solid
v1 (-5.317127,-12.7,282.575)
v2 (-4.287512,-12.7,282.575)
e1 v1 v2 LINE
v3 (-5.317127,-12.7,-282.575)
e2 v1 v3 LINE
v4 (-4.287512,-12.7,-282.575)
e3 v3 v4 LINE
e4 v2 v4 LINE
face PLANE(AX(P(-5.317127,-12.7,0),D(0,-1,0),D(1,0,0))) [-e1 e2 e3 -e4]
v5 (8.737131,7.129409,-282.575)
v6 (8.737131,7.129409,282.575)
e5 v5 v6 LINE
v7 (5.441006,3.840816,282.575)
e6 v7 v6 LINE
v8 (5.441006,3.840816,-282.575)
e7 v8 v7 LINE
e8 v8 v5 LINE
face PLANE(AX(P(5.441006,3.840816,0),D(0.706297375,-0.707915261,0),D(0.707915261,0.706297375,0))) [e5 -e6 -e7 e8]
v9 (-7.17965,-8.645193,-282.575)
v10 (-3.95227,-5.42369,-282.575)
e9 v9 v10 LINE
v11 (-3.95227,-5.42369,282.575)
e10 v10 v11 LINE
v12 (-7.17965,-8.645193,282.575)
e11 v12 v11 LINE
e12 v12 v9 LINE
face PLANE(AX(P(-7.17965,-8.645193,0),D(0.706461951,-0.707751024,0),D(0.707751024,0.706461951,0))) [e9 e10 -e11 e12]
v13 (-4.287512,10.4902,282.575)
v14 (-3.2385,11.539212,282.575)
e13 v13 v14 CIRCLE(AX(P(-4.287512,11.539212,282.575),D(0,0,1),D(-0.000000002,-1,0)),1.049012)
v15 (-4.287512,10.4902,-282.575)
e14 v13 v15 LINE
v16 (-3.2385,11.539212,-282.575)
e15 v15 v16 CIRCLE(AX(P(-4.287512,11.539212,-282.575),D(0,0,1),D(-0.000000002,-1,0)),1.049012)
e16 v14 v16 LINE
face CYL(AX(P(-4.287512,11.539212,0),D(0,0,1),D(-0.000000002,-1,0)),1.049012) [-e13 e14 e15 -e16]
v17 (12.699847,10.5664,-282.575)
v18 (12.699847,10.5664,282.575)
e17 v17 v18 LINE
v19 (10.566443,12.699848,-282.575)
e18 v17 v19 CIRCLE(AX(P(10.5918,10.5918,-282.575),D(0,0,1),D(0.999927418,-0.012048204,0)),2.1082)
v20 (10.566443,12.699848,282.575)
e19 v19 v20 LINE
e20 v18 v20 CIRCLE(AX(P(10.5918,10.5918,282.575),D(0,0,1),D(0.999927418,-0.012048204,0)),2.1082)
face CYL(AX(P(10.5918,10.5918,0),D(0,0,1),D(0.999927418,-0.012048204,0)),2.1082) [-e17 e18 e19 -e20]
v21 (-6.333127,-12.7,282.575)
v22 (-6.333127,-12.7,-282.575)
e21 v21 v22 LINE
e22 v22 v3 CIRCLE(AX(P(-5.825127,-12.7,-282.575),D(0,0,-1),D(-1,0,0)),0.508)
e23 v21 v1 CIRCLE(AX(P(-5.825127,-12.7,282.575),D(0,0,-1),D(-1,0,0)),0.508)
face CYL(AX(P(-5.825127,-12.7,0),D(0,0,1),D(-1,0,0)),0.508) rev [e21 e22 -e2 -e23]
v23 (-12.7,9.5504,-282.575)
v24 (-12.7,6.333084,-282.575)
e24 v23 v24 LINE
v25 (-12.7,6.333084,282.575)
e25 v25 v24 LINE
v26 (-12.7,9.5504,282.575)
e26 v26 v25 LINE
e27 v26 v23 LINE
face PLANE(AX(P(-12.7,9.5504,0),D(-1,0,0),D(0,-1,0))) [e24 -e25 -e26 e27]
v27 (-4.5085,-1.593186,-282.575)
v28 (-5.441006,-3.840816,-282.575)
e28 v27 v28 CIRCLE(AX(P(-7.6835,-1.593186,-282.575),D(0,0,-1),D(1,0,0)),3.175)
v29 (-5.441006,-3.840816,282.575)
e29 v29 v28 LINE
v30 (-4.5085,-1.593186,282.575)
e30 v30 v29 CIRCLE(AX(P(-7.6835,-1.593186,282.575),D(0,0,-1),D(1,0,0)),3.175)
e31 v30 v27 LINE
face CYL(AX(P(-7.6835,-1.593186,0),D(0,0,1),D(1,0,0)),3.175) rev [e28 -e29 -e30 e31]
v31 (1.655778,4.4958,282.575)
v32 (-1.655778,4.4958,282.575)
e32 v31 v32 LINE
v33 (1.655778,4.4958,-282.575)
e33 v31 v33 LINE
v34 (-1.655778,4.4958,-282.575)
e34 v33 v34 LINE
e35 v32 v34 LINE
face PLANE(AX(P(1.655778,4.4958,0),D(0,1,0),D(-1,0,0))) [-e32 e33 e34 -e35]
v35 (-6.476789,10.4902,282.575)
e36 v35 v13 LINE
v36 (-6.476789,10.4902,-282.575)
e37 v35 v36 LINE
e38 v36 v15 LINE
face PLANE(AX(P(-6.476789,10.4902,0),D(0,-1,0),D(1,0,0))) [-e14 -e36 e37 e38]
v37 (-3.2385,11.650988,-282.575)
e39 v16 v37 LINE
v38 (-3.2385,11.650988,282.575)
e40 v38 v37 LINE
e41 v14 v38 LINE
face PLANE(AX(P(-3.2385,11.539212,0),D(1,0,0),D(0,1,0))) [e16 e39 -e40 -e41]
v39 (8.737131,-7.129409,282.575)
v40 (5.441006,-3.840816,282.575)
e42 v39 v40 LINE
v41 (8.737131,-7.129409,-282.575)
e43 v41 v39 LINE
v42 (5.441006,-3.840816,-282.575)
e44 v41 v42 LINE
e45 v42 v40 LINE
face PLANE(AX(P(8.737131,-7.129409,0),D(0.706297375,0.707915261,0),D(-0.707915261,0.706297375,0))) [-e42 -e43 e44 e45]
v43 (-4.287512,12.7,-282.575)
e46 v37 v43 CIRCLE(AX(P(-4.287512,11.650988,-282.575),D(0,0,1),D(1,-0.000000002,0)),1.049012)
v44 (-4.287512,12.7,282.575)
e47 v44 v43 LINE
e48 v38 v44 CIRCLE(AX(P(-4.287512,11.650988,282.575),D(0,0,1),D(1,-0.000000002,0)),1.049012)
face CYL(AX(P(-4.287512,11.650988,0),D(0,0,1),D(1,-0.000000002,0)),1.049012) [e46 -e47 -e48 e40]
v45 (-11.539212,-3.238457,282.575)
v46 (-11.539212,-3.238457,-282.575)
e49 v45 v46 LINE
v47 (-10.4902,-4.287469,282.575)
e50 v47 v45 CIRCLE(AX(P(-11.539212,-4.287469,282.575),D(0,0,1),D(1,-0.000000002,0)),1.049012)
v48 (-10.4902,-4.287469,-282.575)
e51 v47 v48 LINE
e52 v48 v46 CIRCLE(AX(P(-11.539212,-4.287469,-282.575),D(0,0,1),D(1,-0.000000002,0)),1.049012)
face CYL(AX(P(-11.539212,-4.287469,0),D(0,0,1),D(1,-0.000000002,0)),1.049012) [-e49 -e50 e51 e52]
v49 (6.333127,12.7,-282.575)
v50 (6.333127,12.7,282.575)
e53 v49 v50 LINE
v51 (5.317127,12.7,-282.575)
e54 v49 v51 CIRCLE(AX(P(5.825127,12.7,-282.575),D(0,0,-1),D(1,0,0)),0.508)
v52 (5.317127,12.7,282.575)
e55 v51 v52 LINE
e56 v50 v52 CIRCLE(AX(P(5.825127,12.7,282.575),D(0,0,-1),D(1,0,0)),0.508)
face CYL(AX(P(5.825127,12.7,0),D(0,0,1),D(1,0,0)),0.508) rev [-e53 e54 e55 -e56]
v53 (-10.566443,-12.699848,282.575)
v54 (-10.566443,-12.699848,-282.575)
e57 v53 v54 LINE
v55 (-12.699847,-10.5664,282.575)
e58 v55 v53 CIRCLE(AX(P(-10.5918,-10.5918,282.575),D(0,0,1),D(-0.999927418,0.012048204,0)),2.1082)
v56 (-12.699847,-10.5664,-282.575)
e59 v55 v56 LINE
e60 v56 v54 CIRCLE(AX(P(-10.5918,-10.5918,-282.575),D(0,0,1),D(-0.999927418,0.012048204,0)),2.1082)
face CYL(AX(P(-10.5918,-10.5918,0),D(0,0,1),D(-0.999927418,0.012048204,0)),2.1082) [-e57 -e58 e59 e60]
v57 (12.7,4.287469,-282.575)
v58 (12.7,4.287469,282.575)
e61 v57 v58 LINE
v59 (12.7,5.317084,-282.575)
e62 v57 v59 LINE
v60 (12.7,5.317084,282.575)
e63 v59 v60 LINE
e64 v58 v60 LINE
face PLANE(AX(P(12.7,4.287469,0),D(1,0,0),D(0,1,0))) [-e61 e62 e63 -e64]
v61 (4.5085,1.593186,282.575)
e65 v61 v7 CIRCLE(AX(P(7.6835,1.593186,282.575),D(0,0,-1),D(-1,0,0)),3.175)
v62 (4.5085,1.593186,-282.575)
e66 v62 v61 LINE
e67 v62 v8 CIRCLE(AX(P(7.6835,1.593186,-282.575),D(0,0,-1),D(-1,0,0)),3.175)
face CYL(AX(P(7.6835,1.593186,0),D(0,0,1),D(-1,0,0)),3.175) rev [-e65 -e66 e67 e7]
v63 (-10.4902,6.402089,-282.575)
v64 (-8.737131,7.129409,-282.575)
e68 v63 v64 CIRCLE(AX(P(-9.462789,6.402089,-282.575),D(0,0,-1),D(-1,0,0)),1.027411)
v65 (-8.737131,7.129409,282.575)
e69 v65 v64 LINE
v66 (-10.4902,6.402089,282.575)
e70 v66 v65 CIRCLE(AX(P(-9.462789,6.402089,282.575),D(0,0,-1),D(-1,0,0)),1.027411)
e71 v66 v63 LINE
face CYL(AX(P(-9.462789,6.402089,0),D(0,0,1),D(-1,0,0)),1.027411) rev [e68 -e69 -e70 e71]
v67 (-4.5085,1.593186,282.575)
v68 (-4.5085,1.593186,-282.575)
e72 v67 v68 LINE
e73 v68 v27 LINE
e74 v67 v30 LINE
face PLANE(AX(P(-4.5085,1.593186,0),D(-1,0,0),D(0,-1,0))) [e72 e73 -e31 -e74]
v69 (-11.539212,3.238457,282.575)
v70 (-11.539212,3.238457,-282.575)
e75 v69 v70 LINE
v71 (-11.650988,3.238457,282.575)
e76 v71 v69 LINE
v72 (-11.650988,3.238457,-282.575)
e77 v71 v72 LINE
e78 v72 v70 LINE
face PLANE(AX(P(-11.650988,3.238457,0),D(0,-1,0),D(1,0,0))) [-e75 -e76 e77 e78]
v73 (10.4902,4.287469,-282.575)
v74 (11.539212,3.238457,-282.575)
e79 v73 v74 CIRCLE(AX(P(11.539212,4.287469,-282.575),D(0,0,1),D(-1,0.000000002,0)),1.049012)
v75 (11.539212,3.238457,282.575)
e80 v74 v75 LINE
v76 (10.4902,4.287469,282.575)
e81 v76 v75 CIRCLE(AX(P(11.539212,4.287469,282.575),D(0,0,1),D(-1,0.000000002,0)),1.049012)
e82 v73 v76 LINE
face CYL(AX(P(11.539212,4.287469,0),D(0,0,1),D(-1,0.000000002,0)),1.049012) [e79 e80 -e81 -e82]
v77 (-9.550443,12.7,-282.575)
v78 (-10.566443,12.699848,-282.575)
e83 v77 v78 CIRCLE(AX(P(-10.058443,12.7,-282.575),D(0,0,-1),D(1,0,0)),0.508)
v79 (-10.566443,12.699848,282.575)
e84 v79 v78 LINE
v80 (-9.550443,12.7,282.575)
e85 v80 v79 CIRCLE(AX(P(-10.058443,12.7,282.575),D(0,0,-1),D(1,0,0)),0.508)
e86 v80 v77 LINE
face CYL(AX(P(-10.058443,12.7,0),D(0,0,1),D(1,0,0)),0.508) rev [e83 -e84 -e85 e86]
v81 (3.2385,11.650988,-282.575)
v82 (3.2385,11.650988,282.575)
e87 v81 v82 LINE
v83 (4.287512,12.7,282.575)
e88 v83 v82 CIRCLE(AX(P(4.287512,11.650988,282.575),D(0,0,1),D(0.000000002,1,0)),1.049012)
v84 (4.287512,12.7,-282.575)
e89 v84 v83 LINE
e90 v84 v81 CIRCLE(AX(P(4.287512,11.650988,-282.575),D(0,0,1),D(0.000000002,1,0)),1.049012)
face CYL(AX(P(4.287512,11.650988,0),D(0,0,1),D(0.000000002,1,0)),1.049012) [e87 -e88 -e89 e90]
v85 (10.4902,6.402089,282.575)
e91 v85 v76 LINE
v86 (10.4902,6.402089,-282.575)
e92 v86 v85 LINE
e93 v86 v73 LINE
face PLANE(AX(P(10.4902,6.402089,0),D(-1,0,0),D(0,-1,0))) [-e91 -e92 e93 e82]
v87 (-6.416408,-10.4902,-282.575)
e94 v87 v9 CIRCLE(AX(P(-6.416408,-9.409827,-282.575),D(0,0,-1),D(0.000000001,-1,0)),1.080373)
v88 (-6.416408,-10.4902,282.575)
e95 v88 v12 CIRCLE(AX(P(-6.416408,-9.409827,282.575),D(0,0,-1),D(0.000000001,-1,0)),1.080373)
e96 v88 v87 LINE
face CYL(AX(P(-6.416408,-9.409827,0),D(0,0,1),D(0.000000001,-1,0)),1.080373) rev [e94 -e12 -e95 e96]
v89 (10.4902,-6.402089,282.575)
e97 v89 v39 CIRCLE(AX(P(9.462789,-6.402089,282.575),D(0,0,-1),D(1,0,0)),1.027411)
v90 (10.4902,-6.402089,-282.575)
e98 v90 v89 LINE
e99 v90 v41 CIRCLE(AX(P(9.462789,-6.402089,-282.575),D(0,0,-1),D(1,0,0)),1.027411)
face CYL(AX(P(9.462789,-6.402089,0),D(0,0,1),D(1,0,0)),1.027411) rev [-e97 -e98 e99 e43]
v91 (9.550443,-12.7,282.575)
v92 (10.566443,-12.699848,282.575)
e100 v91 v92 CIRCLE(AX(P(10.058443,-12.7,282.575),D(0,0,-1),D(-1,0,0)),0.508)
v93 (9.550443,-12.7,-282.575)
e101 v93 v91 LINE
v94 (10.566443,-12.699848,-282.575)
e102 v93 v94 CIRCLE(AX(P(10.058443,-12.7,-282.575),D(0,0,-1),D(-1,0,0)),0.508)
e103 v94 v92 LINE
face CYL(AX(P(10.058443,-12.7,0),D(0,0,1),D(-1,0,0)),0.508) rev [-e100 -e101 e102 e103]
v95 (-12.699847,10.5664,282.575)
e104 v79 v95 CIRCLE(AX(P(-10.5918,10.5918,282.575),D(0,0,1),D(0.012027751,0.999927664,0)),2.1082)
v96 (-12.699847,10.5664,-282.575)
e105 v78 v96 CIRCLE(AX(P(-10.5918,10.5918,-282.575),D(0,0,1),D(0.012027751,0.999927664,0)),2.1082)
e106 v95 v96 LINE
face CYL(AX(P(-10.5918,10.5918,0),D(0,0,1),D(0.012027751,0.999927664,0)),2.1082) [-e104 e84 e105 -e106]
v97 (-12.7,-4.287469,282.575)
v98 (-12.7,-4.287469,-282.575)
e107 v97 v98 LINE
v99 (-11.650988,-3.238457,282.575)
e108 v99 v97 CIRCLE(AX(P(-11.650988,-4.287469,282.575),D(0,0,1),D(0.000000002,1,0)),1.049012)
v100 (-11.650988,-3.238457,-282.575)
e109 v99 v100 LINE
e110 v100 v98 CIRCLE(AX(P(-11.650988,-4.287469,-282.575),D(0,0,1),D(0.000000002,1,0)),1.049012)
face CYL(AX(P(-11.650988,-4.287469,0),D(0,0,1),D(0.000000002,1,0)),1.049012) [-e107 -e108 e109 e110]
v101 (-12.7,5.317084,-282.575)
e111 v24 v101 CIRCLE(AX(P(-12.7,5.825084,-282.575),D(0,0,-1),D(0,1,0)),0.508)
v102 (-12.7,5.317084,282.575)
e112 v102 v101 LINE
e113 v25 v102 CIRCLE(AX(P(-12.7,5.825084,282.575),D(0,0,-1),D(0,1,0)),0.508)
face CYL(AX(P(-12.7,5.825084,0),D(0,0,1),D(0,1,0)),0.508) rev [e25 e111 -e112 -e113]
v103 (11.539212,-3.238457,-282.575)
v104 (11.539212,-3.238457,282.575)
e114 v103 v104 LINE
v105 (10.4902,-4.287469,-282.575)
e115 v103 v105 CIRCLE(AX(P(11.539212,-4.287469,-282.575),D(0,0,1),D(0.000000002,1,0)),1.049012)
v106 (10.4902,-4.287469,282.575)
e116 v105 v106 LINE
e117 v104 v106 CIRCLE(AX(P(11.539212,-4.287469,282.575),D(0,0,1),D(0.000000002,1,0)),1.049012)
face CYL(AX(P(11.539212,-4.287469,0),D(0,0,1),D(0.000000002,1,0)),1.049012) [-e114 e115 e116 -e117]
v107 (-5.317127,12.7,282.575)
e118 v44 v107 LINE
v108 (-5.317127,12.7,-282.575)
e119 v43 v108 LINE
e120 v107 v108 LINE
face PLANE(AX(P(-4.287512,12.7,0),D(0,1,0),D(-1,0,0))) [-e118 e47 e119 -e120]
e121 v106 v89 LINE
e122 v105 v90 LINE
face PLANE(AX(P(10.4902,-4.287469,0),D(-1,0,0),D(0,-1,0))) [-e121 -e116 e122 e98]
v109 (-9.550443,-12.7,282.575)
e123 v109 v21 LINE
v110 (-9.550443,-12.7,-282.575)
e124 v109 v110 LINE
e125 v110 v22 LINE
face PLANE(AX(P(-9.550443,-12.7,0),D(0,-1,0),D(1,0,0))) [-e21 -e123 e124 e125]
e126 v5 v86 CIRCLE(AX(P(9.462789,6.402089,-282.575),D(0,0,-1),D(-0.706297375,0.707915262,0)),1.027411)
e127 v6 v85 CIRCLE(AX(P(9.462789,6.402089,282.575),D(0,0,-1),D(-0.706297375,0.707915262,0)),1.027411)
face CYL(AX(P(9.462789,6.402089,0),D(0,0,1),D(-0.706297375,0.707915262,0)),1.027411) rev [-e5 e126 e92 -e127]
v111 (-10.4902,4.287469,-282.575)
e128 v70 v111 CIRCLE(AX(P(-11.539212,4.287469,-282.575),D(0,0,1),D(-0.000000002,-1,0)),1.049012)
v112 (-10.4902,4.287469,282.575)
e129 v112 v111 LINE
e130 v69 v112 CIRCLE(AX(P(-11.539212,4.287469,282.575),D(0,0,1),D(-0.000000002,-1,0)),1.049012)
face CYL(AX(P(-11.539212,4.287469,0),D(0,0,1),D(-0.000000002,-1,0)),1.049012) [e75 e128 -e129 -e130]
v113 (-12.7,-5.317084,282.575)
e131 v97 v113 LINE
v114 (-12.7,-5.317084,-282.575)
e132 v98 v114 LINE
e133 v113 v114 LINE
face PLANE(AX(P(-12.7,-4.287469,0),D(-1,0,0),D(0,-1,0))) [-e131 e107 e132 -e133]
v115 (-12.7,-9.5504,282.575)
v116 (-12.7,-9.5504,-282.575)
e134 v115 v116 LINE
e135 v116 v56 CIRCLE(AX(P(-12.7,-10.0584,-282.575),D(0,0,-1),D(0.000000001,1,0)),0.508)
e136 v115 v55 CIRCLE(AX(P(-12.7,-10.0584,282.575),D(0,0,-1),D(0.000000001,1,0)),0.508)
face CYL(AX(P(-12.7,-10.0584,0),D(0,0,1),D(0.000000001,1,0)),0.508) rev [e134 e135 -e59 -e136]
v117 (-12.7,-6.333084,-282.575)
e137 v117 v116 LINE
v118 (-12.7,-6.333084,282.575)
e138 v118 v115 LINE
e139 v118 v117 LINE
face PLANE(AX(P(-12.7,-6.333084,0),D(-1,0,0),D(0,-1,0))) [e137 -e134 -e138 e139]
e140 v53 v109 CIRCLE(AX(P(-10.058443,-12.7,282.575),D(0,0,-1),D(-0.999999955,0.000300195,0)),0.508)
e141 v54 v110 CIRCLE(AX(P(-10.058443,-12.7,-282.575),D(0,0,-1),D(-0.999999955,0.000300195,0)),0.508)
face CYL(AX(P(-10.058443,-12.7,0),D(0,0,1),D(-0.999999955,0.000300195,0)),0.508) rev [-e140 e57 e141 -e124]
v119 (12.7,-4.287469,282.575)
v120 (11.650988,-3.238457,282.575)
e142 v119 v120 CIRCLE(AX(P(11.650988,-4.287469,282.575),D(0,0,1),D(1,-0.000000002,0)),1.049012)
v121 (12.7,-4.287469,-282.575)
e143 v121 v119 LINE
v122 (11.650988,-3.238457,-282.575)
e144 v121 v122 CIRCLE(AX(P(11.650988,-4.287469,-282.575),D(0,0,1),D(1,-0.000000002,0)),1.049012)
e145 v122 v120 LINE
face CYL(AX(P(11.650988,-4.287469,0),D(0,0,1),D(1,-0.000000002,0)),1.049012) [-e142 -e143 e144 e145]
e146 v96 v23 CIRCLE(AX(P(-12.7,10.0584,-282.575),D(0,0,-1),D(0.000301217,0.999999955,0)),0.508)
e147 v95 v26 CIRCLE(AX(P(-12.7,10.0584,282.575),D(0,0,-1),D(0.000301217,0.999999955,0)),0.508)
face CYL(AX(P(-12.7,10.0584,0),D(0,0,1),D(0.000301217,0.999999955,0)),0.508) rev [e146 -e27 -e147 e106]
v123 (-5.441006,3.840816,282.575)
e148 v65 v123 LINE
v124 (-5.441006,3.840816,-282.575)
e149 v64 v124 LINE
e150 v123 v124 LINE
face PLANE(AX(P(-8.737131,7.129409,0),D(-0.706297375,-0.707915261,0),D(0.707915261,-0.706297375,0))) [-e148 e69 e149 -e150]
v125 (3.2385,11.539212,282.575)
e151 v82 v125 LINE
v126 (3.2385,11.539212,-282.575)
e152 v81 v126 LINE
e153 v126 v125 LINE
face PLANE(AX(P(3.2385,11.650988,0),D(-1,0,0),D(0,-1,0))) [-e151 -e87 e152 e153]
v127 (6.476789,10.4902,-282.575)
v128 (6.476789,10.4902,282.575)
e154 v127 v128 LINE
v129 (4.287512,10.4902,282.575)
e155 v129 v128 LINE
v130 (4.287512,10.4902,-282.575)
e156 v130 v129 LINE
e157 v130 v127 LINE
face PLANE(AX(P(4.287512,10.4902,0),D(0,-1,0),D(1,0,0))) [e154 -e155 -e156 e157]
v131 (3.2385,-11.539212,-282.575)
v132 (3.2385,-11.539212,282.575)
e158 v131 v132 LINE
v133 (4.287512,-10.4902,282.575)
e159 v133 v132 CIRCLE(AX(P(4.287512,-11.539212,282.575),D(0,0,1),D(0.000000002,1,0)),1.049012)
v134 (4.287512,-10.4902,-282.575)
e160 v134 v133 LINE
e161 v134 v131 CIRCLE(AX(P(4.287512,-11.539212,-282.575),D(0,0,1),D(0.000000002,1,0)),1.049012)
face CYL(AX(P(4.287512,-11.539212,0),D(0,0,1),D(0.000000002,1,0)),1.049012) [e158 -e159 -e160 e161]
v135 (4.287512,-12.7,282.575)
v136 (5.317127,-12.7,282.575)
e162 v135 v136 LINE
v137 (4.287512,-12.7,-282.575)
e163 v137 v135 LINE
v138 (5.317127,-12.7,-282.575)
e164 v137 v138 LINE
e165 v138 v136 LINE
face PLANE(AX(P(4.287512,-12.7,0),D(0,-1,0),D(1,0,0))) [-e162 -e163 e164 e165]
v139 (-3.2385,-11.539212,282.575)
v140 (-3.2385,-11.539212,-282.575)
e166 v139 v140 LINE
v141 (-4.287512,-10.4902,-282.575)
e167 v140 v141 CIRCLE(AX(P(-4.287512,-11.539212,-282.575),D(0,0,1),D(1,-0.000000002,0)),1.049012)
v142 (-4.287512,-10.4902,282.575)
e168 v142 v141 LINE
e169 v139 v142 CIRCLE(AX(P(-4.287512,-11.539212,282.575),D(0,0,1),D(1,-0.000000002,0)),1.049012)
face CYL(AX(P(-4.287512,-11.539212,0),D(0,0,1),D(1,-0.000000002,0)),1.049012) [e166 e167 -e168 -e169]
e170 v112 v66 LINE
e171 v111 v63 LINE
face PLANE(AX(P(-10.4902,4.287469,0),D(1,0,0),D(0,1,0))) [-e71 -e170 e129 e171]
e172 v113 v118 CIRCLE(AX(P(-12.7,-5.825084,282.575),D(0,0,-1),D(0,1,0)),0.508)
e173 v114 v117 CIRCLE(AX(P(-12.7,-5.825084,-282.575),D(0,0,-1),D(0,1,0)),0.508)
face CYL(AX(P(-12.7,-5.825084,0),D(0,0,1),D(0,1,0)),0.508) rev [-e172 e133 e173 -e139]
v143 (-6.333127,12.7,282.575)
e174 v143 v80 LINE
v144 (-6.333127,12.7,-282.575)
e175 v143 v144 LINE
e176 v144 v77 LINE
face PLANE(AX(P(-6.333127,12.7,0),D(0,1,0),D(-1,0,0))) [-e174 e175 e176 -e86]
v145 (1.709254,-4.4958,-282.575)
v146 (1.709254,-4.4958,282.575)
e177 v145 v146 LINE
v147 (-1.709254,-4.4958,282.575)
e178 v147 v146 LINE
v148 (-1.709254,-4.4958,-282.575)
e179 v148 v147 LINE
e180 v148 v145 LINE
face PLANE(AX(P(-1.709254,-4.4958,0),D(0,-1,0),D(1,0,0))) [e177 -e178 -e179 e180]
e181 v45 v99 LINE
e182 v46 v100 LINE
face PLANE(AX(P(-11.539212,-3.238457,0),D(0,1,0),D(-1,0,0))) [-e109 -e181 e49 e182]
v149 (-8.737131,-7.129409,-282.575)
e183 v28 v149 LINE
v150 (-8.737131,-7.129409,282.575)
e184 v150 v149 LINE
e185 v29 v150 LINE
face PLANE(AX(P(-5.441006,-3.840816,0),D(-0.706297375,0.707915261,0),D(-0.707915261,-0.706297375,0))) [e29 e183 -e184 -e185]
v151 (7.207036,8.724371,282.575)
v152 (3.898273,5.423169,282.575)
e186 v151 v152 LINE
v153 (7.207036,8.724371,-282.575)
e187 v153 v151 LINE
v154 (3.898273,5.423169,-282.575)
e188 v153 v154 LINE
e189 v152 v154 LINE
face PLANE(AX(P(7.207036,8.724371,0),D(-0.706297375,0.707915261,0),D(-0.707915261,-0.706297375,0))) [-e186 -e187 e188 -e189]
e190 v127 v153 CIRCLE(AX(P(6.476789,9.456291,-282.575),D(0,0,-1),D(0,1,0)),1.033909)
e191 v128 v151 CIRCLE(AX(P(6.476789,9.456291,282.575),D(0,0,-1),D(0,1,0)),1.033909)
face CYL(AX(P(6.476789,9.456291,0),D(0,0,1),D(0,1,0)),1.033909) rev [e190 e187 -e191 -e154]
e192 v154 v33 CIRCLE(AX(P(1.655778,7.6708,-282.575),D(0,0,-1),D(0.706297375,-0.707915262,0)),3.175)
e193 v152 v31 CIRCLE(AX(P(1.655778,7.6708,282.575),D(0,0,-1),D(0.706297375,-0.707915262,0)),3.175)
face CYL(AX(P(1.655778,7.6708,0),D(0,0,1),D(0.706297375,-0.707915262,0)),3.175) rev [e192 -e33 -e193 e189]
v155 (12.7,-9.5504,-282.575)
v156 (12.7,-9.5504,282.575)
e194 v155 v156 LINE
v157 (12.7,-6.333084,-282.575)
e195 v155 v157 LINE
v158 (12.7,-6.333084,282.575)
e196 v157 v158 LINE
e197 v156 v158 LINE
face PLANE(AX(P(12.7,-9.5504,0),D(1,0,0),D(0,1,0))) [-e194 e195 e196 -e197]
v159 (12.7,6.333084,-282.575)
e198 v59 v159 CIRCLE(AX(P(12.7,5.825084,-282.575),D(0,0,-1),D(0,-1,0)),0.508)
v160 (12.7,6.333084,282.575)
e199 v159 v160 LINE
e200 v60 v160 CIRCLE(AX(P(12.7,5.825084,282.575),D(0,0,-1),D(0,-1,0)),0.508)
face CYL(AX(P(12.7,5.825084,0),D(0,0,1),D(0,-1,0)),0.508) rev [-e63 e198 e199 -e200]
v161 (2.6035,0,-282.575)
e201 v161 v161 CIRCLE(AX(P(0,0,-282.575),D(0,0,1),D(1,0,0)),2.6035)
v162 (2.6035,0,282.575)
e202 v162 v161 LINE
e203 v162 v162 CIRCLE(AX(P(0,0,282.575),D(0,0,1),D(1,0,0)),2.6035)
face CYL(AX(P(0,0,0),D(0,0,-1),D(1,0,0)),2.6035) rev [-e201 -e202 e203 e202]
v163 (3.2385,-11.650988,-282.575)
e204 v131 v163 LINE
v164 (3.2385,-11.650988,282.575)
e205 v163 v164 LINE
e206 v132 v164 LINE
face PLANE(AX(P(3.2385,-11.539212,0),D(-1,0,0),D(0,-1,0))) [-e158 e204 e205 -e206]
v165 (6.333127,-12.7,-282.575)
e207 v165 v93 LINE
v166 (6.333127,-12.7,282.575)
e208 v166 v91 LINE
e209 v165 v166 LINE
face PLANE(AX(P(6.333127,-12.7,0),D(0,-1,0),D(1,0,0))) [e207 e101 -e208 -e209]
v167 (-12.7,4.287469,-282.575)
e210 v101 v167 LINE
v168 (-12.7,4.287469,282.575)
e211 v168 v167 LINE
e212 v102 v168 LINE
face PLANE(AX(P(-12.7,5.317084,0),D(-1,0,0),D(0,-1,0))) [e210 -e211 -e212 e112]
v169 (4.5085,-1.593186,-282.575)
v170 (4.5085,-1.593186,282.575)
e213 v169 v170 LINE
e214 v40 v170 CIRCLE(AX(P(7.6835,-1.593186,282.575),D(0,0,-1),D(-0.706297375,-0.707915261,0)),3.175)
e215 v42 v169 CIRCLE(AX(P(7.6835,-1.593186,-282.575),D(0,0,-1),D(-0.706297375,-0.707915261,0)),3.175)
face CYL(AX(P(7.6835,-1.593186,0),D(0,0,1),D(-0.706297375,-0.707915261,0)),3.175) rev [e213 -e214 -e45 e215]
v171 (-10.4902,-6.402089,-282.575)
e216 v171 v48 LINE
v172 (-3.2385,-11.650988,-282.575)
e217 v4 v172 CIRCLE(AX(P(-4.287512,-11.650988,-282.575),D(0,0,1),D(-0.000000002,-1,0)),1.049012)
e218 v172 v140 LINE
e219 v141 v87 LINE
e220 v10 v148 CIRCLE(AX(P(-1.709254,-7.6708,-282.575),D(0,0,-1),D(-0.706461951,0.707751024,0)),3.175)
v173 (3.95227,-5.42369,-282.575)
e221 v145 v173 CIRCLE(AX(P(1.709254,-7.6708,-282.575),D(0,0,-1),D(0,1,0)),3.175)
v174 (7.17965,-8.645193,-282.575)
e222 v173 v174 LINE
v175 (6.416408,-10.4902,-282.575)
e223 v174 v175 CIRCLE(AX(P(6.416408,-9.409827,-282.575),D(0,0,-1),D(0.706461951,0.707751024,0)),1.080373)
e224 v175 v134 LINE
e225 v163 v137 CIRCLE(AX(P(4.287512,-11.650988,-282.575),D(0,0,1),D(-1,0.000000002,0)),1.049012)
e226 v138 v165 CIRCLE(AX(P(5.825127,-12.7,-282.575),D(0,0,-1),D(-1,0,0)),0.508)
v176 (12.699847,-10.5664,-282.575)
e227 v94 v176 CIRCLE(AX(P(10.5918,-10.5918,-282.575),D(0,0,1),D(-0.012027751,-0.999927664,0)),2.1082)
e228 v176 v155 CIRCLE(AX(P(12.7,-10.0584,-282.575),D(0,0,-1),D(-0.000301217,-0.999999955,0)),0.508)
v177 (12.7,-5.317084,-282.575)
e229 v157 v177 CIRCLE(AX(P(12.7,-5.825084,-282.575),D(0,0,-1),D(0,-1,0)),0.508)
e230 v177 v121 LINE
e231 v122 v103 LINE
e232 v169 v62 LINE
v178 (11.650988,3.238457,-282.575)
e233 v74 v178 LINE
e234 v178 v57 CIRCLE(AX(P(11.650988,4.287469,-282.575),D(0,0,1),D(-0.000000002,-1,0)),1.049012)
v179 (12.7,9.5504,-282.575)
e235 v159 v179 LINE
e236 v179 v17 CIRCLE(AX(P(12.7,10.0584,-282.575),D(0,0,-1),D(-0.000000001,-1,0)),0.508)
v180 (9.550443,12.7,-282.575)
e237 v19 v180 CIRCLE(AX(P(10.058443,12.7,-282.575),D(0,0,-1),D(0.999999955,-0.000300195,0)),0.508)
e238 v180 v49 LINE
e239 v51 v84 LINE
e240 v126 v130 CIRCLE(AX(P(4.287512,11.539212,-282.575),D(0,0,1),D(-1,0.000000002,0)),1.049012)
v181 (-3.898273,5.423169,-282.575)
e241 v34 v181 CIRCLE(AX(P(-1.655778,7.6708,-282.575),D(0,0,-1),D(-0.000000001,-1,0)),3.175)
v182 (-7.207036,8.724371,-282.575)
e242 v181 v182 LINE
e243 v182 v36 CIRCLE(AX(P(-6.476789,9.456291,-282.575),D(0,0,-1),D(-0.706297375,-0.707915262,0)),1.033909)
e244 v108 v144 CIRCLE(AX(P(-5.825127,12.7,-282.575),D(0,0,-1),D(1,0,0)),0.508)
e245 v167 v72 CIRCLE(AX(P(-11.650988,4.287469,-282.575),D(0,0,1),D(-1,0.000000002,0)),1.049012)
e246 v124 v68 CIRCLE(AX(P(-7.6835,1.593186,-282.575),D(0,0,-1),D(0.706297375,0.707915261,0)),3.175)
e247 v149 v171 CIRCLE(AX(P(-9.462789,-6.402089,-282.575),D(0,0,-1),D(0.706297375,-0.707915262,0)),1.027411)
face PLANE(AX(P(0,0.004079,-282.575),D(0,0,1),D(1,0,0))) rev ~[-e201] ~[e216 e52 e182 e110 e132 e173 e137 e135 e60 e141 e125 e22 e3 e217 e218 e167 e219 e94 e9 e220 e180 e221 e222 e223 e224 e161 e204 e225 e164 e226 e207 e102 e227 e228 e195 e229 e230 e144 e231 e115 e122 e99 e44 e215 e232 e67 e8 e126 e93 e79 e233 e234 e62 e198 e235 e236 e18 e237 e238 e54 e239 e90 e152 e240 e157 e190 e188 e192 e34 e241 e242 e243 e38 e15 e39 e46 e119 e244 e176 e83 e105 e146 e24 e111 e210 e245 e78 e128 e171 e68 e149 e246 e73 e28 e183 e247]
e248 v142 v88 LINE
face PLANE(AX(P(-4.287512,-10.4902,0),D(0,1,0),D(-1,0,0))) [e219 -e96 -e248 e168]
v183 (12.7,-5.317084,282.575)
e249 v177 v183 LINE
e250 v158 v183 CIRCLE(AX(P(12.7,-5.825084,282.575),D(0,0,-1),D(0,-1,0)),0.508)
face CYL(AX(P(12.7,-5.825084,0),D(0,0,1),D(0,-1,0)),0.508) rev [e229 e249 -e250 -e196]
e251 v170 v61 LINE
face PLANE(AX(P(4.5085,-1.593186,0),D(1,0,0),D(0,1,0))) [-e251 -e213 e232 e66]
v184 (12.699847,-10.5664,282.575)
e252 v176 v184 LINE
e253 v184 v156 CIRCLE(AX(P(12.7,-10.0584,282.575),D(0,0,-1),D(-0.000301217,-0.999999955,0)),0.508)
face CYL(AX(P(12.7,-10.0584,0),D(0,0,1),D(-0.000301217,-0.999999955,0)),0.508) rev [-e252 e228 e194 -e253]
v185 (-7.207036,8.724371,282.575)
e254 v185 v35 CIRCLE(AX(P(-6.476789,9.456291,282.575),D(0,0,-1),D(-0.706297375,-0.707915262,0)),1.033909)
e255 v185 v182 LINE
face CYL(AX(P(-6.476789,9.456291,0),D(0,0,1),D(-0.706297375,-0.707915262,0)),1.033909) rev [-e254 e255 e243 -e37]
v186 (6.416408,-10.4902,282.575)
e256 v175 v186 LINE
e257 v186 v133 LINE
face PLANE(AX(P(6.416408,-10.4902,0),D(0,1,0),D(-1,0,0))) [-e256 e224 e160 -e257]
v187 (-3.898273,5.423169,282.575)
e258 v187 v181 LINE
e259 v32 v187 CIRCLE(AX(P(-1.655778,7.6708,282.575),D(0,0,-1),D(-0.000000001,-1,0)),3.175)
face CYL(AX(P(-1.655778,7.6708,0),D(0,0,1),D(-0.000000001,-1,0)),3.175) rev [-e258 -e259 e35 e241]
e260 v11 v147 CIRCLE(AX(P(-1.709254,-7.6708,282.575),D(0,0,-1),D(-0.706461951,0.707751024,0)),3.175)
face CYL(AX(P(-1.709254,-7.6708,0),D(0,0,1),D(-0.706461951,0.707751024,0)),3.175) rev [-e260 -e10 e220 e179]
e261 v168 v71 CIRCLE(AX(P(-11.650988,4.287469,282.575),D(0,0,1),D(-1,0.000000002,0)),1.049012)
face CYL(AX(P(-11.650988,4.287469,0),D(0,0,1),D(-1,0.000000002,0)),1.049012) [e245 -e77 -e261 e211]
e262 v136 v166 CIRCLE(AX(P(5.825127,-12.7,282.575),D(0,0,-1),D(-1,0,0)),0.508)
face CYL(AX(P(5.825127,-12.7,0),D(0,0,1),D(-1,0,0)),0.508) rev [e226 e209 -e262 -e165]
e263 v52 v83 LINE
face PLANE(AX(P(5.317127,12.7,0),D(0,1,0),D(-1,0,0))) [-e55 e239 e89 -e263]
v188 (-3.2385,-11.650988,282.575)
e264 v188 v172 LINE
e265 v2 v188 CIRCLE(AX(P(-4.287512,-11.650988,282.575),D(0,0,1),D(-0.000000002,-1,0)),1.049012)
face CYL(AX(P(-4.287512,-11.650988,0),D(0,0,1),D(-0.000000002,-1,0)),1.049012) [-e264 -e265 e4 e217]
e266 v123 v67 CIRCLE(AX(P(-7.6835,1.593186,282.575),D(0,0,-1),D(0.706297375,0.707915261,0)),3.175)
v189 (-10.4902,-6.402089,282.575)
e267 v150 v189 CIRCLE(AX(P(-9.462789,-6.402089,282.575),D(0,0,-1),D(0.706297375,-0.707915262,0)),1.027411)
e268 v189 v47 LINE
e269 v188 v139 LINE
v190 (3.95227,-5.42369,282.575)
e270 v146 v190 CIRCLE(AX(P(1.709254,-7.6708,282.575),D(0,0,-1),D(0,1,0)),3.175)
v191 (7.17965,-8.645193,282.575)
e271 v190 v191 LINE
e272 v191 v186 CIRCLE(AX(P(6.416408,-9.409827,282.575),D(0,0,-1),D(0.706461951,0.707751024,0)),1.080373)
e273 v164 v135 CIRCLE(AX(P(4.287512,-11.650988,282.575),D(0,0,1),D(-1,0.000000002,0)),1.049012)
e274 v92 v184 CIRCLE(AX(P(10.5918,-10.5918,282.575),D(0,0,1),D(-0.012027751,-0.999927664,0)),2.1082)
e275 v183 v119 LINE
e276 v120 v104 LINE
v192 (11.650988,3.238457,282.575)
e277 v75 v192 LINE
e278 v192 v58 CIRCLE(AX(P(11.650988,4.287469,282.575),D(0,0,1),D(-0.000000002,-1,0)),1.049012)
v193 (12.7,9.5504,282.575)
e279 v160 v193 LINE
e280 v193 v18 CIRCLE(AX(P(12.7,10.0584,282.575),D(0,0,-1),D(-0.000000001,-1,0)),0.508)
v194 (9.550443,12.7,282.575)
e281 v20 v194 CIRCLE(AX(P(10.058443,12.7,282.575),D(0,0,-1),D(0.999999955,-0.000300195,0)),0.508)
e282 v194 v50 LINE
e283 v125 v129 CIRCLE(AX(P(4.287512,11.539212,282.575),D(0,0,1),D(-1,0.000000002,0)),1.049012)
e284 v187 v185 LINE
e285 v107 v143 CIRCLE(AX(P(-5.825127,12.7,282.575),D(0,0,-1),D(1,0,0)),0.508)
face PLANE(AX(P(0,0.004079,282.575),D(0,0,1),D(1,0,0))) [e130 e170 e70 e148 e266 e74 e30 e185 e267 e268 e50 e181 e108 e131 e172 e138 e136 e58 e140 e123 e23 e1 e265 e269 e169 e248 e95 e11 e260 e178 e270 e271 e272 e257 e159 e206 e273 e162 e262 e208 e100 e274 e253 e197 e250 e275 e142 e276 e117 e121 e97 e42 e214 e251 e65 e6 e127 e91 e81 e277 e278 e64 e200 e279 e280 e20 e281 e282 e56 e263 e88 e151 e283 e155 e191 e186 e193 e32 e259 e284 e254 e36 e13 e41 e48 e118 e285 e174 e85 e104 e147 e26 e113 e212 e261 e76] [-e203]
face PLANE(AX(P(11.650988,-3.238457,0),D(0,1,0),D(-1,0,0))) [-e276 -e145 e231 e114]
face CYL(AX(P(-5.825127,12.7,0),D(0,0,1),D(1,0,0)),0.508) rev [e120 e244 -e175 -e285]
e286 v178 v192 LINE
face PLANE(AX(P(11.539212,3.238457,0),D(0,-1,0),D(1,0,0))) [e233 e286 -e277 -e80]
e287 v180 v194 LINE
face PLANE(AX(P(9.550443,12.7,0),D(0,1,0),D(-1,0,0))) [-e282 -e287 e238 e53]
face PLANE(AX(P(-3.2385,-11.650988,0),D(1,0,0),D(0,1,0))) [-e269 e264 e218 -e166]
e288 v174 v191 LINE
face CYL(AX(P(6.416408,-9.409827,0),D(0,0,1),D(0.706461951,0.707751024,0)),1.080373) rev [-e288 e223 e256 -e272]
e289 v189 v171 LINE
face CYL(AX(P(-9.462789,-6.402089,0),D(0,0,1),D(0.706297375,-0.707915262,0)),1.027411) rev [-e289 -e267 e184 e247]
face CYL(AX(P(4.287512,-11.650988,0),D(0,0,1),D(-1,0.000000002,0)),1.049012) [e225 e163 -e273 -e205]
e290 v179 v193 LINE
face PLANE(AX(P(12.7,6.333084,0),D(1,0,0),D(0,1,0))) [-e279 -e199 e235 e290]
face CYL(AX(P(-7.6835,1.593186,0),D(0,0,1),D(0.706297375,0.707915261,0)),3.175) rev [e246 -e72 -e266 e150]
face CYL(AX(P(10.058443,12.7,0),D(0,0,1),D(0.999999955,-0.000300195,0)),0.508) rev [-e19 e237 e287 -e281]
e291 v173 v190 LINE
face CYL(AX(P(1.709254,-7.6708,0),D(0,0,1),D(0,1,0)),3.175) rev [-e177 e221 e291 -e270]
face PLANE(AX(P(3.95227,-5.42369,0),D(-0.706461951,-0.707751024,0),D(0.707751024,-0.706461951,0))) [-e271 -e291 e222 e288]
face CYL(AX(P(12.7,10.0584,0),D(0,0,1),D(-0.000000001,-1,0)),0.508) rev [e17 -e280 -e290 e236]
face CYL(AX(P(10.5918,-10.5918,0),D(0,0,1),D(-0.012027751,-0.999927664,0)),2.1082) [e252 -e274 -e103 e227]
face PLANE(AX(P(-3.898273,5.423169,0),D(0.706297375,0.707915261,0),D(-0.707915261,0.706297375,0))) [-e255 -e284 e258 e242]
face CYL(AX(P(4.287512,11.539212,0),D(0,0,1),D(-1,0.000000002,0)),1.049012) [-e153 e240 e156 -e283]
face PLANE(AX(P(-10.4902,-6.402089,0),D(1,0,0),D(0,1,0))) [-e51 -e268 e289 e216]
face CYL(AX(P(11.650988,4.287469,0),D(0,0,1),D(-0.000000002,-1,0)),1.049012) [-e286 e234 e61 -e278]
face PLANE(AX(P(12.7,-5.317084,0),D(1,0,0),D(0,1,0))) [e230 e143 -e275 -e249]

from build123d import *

# Parameters (mm, degrees)
SKETCH1_R           = 2.6035
BOSS_EXTRUDE1_DEPTH = 282.575


with BuildPart() as part:
    # Sketch1 → Boss-Extrude1 (new, symmetric)
    with BuildSketch(Plane.XY):
        with BuildLine():
            Line((-7.179650497, -8.645192506), (-3.952270251, -5.423690499))
            ThreePointArc((-3.952270251, -5.423690499), (-2.922936451, -4.736929036), (-1.709253557, -4.4958))
            Line((-1.709253557, -4.4958), (1.709253557, -4.4958))
            ThreePointArc((1.709253557, -4.4958), (2.922936451, -4.736929036), (3.952270251, -5.423690499))
            Line((3.952270251, -5.423690499), (7.179650497, -8.645192506))
            ThreePointArc((7.179650497, -8.645192506), (7.41473083, -9.822813117), (6.416408329, -10.4902))
            Line((6.416408329, -10.4902), (4.287512407, -10.4902))
            ThreePointArc((4.287512407, -10.4902), (3.54574862, -10.79744862), (3.2385, -11.539212407))
            Line((3.2385, -11.539212407), (3.2385, -11.650987593))
            ThreePointArc((3.2385, -11.650987593), (3.54574862, -12.39275138), (4.287512407, -12.7))
            Line((4.287512407, -12.7), (5.317126718, -12.7))
            ThreePointArc((5.317126718, -12.7), (5.825126718, -12.192), (6.333126718, -12.7))
            Line((6.333126718, -12.7), (9.550443118, -12.7))
            ThreePointArc((9.550443118, -12.7), (10.058366869, -12.192000006), (10.566443095, -12.699847501))
            ThreePointArc((10.566443095, -12.699847501), (12.082537762, -12.08250727), (12.699846982, -10.566399977))
            ThreePointArc((12.699846982, -10.566399977), (12.192000006, -10.058323491), (12.7, -9.5504))
            Line((12.7, -9.5504), (12.7, -6.3330836))
            ThreePointArc((12.7, -6.3330836), (12.192, -5.8250836), (12.7, -5.3170836))
            Line((12.7, -5.3170836), (12.7, -4.287469289))
            ThreePointArc((12.7, -4.287469289), (12.39275138, -3.545705502), (11.650987593, -3.238456882))
            Line((11.650987593, -3.238456882), (11.539212407, -3.238456882))
            ThreePointArc((11.539212407, -3.238456882), (10.79744862, -3.545705502), (10.4902, -4.287469289))
            Line((10.4902, -4.287469289), (10.4902, -6.402089023))
            ThreePointArc((10.4902, -6.402089023), (9.856505071, -7.351067942), (8.737131347, -7.129408934))
            Line((8.737131347, -7.129408934), (5.441005833, -3.840816462))
            ThreePointArc((5.441005833, -3.840816462), (4.750877967, -2.809883091), (4.5085, -1.593185507))
            Line((4.5085, -1.593185507), (4.5085, 1.593185507))
            ThreePointArc((4.5085, 1.593185507), (4.750877967, 2.809883091), (5.441005833, 3.840816462))
            Line((5.441005833, 3.840816462), (8.737131347, 7.129408934))
            ThreePointArc((8.737131347, 7.129408934), (9.856505071, 7.351067942), (10.4902, 6.402089023))
            Line((10.4902, 6.402089023), (10.4902, 4.287469289))
            ThreePointArc((10.4902, 4.287469289), (10.79744862, 3.545705502), (11.539212407, 3.238456882))
            Line((11.539212407, 3.238456882), (11.650987593, 3.238456882))
            ThreePointArc((11.650987593, 3.238456882), (12.39275138, 3.545705502), (12.7, 4.287469289))
            Line((12.7, 4.287469289), (12.7, 5.3170836))
            ThreePointArc((12.7, 5.3170836), (12.192, 5.8250836), (12.7, 6.3330836))
            Line((12.7, 6.3330836), (12.7, 9.5504))
            ThreePointArc((12.7, 9.5504), (12.192000006, 10.058323491), (12.699846982, 10.566399977))
            ThreePointArc((12.699846982, 10.566399977), (12.082537762, 12.08250727), (10.566443095, 12.699847501))
            ThreePointArc((10.566443095, 12.699847501), (10.058366869, 12.192000006), (9.550443118, 12.7))
            Line((9.550443118, 12.7), (6.333126718, 12.7))
            ThreePointArc((6.333126718, 12.7), (5.825126718, 12.192), (5.317126718, 12.7))
            Line((5.317126718, 12.7), (4.287512407, 12.7))
            ThreePointArc((4.287512407, 12.7), (3.54574862, 12.39275138), (3.2385, 11.650987593))
            Line((3.2385, 11.650987593), (3.2385, 11.539212407))
            ThreePointArc((3.2385, 11.539212407), (3.54574862, 10.79744862), (4.287512407, 10.4902))
            Line((4.287512407, 10.4902), (6.476788598, 10.4902))
            ThreePointArc((6.476788598, 10.4902), (7.432222385, 9.85140422), (7.207036008, 8.724370562))
            Line((7.207036008, 8.724370562), (3.898272566, 5.423169045))
            ThreePointArc((3.898272566, 5.423169045), (2.869120213, 4.736787962), (1.655778399, 4.4958))
            Line((1.655778399, 4.4958), (-1.655778399, 4.4958))
            ThreePointArc((-1.655778399, 4.4958), (-2.869120213, 4.736787962), (-3.898272566, 5.423169045))
            Line((-3.898272566, 5.423169045), (-7.207036008, 8.724370562))
            ThreePointArc((-7.207036008, 8.724370562), (-7.432222385, 9.85140422), (-6.476788598, 10.4902))
            Line((-6.476788598, 10.4902), (-4.287512407, 10.4902))
            ThreePointArc((-4.287512407, 10.4902), (-3.54574862, 10.79744862), (-3.2385, 11.539212407))
            Line((-3.2385, 11.539212407), (-3.2385, 11.650987593))
            ThreePointArc((-3.2385, 11.650987593), (-3.54574862, 12.39275138), (-4.287512407, 12.7))
            Line((-4.287512407, 12.7), (-5.317126718, 12.7))
            ThreePointArc((-5.317126718, 12.7), (-5.825126718, 12.192), (-6.333126718, 12.7))
            Line((-6.333126718, 12.7), (-9.550443118, 12.7))
            ThreePointArc((-9.550443118, 12.7), (-10.058366869, 12.192000006), (-10.566443095, 12.699847501))
            ThreePointArc((-10.566443095, 12.699847501), (-12.082537762, 12.08250727), (-12.699846982, 10.566399977))
            ThreePointArc((-12.699846982, 10.566399977), (-12.192000006, 10.058323491), (-12.7, 9.5504))
            Line((-12.7, 9.5504), (-12.7, 6.3330836))
            ThreePointArc((-12.7, 6.3330836), (-12.192, 5.8250836), (-12.7, 5.3170836))
            Line((-12.7, 5.3170836), (-12.7, 4.287469289))
            ThreePointArc((-12.7, 4.287469289), (-12.39275138, 3.545705502), (-11.650987593, 3.238456882))
            Line((-11.650987593, 3.238456882), (-11.539212407, 3.238456882))
            ThreePointArc((-11.539212407, 3.238456882), (-10.79744862, 3.545705502), (-10.4902, 4.287469289))
            Line((-10.4902, 4.287469289), (-10.4902, 6.402089023))
            ThreePointArc((-10.4902, 6.402089023), (-9.856505071, 7.351067942), (-8.737131347, 7.129408934))
            Line((-8.737131347, 7.129408934), (-5.441005833, 3.840816462))
            ThreePointArc((-5.441005833, 3.840816462), (-4.750877967, 2.809883091), (-4.5085, 1.593185507))
            Line((-4.5085, 1.593185507), (-4.5085, -1.593185507))
            ThreePointArc((-4.5085, -1.593185507), (-4.750877967, -2.809883091), (-5.441005833, -3.840816462))
            Line((-5.441005833, -3.840816462), (-8.737131347, -7.129408934))
            ThreePointArc((-8.737131347, -7.129408934), (-9.856505071, -7.351067942), (-10.4902, -6.402089023))
            Line((-10.4902, -6.402089023), (-10.4902, -4.287469289))
            ThreePointArc((-10.4902, -4.287469289), (-10.79744862, -3.545705502), (-11.539212407, -3.238456882))
            Line((-11.539212407, -3.238456882), (-11.650987593, -3.238456882))
            ThreePointArc((-11.650987593, -3.238456882), (-12.39275138, -3.545705502), (-12.7, -4.287469289))
            Line((-12.7, -4.287469289), (-12.7, -5.3170836))
            ThreePointArc((-12.7, -5.3170836), (-12.192, -5.8250836), (-12.7, -6.3330836))
            Line((-12.7, -6.3330836), (-12.7, -9.5504))
            ThreePointArc((-12.7, -9.5504), (-12.192000006, -10.058323491), (-12.699846982, -10.566399977))
            ThreePointArc((-12.699846982, -10.566399977), (-12.082537762, -12.08250727), (-10.566443095, -12.699847501))
            ThreePointArc((-10.566443095, -12.699847501), (-10.058366869, -12.192000006), (-9.550443118, -12.7))
            Line((-9.550443118, -12.7), (-6.333126718, -12.7))
            ThreePointArc((-6.333126718, -12.7), (-5.825126718, -12.192), (-5.317126718, -12.7))
            Line((-5.317126718, -12.7), (-4.287512407, -12.7))
            ThreePointArc((-4.287512407, -12.7), (-3.54574862, -12.39275138), (-3.2385, -11.650987593))
            Line((-3.2385, -11.650987593), (-3.2385, -11.539212407))
            ThreePointArc((-3.2385, -11.539212407), (-3.54574862, -10.79744862), (-4.287512407, -10.4902))
            Line((-4.287512407, -10.4902), (-6.416408329, -10.4902))
            ThreePointArc((-6.416408329, -10.4902), (-7.41473083, -9.822813117), (-7.179650497, -8.645192506))
        make_face()
        Circle(SKETCH1_R, mode=Mode.SUBTRACT)
    extrude(amount=BOSS_EXTRUDE1_DEPTH, both=True)


solid = part.part
